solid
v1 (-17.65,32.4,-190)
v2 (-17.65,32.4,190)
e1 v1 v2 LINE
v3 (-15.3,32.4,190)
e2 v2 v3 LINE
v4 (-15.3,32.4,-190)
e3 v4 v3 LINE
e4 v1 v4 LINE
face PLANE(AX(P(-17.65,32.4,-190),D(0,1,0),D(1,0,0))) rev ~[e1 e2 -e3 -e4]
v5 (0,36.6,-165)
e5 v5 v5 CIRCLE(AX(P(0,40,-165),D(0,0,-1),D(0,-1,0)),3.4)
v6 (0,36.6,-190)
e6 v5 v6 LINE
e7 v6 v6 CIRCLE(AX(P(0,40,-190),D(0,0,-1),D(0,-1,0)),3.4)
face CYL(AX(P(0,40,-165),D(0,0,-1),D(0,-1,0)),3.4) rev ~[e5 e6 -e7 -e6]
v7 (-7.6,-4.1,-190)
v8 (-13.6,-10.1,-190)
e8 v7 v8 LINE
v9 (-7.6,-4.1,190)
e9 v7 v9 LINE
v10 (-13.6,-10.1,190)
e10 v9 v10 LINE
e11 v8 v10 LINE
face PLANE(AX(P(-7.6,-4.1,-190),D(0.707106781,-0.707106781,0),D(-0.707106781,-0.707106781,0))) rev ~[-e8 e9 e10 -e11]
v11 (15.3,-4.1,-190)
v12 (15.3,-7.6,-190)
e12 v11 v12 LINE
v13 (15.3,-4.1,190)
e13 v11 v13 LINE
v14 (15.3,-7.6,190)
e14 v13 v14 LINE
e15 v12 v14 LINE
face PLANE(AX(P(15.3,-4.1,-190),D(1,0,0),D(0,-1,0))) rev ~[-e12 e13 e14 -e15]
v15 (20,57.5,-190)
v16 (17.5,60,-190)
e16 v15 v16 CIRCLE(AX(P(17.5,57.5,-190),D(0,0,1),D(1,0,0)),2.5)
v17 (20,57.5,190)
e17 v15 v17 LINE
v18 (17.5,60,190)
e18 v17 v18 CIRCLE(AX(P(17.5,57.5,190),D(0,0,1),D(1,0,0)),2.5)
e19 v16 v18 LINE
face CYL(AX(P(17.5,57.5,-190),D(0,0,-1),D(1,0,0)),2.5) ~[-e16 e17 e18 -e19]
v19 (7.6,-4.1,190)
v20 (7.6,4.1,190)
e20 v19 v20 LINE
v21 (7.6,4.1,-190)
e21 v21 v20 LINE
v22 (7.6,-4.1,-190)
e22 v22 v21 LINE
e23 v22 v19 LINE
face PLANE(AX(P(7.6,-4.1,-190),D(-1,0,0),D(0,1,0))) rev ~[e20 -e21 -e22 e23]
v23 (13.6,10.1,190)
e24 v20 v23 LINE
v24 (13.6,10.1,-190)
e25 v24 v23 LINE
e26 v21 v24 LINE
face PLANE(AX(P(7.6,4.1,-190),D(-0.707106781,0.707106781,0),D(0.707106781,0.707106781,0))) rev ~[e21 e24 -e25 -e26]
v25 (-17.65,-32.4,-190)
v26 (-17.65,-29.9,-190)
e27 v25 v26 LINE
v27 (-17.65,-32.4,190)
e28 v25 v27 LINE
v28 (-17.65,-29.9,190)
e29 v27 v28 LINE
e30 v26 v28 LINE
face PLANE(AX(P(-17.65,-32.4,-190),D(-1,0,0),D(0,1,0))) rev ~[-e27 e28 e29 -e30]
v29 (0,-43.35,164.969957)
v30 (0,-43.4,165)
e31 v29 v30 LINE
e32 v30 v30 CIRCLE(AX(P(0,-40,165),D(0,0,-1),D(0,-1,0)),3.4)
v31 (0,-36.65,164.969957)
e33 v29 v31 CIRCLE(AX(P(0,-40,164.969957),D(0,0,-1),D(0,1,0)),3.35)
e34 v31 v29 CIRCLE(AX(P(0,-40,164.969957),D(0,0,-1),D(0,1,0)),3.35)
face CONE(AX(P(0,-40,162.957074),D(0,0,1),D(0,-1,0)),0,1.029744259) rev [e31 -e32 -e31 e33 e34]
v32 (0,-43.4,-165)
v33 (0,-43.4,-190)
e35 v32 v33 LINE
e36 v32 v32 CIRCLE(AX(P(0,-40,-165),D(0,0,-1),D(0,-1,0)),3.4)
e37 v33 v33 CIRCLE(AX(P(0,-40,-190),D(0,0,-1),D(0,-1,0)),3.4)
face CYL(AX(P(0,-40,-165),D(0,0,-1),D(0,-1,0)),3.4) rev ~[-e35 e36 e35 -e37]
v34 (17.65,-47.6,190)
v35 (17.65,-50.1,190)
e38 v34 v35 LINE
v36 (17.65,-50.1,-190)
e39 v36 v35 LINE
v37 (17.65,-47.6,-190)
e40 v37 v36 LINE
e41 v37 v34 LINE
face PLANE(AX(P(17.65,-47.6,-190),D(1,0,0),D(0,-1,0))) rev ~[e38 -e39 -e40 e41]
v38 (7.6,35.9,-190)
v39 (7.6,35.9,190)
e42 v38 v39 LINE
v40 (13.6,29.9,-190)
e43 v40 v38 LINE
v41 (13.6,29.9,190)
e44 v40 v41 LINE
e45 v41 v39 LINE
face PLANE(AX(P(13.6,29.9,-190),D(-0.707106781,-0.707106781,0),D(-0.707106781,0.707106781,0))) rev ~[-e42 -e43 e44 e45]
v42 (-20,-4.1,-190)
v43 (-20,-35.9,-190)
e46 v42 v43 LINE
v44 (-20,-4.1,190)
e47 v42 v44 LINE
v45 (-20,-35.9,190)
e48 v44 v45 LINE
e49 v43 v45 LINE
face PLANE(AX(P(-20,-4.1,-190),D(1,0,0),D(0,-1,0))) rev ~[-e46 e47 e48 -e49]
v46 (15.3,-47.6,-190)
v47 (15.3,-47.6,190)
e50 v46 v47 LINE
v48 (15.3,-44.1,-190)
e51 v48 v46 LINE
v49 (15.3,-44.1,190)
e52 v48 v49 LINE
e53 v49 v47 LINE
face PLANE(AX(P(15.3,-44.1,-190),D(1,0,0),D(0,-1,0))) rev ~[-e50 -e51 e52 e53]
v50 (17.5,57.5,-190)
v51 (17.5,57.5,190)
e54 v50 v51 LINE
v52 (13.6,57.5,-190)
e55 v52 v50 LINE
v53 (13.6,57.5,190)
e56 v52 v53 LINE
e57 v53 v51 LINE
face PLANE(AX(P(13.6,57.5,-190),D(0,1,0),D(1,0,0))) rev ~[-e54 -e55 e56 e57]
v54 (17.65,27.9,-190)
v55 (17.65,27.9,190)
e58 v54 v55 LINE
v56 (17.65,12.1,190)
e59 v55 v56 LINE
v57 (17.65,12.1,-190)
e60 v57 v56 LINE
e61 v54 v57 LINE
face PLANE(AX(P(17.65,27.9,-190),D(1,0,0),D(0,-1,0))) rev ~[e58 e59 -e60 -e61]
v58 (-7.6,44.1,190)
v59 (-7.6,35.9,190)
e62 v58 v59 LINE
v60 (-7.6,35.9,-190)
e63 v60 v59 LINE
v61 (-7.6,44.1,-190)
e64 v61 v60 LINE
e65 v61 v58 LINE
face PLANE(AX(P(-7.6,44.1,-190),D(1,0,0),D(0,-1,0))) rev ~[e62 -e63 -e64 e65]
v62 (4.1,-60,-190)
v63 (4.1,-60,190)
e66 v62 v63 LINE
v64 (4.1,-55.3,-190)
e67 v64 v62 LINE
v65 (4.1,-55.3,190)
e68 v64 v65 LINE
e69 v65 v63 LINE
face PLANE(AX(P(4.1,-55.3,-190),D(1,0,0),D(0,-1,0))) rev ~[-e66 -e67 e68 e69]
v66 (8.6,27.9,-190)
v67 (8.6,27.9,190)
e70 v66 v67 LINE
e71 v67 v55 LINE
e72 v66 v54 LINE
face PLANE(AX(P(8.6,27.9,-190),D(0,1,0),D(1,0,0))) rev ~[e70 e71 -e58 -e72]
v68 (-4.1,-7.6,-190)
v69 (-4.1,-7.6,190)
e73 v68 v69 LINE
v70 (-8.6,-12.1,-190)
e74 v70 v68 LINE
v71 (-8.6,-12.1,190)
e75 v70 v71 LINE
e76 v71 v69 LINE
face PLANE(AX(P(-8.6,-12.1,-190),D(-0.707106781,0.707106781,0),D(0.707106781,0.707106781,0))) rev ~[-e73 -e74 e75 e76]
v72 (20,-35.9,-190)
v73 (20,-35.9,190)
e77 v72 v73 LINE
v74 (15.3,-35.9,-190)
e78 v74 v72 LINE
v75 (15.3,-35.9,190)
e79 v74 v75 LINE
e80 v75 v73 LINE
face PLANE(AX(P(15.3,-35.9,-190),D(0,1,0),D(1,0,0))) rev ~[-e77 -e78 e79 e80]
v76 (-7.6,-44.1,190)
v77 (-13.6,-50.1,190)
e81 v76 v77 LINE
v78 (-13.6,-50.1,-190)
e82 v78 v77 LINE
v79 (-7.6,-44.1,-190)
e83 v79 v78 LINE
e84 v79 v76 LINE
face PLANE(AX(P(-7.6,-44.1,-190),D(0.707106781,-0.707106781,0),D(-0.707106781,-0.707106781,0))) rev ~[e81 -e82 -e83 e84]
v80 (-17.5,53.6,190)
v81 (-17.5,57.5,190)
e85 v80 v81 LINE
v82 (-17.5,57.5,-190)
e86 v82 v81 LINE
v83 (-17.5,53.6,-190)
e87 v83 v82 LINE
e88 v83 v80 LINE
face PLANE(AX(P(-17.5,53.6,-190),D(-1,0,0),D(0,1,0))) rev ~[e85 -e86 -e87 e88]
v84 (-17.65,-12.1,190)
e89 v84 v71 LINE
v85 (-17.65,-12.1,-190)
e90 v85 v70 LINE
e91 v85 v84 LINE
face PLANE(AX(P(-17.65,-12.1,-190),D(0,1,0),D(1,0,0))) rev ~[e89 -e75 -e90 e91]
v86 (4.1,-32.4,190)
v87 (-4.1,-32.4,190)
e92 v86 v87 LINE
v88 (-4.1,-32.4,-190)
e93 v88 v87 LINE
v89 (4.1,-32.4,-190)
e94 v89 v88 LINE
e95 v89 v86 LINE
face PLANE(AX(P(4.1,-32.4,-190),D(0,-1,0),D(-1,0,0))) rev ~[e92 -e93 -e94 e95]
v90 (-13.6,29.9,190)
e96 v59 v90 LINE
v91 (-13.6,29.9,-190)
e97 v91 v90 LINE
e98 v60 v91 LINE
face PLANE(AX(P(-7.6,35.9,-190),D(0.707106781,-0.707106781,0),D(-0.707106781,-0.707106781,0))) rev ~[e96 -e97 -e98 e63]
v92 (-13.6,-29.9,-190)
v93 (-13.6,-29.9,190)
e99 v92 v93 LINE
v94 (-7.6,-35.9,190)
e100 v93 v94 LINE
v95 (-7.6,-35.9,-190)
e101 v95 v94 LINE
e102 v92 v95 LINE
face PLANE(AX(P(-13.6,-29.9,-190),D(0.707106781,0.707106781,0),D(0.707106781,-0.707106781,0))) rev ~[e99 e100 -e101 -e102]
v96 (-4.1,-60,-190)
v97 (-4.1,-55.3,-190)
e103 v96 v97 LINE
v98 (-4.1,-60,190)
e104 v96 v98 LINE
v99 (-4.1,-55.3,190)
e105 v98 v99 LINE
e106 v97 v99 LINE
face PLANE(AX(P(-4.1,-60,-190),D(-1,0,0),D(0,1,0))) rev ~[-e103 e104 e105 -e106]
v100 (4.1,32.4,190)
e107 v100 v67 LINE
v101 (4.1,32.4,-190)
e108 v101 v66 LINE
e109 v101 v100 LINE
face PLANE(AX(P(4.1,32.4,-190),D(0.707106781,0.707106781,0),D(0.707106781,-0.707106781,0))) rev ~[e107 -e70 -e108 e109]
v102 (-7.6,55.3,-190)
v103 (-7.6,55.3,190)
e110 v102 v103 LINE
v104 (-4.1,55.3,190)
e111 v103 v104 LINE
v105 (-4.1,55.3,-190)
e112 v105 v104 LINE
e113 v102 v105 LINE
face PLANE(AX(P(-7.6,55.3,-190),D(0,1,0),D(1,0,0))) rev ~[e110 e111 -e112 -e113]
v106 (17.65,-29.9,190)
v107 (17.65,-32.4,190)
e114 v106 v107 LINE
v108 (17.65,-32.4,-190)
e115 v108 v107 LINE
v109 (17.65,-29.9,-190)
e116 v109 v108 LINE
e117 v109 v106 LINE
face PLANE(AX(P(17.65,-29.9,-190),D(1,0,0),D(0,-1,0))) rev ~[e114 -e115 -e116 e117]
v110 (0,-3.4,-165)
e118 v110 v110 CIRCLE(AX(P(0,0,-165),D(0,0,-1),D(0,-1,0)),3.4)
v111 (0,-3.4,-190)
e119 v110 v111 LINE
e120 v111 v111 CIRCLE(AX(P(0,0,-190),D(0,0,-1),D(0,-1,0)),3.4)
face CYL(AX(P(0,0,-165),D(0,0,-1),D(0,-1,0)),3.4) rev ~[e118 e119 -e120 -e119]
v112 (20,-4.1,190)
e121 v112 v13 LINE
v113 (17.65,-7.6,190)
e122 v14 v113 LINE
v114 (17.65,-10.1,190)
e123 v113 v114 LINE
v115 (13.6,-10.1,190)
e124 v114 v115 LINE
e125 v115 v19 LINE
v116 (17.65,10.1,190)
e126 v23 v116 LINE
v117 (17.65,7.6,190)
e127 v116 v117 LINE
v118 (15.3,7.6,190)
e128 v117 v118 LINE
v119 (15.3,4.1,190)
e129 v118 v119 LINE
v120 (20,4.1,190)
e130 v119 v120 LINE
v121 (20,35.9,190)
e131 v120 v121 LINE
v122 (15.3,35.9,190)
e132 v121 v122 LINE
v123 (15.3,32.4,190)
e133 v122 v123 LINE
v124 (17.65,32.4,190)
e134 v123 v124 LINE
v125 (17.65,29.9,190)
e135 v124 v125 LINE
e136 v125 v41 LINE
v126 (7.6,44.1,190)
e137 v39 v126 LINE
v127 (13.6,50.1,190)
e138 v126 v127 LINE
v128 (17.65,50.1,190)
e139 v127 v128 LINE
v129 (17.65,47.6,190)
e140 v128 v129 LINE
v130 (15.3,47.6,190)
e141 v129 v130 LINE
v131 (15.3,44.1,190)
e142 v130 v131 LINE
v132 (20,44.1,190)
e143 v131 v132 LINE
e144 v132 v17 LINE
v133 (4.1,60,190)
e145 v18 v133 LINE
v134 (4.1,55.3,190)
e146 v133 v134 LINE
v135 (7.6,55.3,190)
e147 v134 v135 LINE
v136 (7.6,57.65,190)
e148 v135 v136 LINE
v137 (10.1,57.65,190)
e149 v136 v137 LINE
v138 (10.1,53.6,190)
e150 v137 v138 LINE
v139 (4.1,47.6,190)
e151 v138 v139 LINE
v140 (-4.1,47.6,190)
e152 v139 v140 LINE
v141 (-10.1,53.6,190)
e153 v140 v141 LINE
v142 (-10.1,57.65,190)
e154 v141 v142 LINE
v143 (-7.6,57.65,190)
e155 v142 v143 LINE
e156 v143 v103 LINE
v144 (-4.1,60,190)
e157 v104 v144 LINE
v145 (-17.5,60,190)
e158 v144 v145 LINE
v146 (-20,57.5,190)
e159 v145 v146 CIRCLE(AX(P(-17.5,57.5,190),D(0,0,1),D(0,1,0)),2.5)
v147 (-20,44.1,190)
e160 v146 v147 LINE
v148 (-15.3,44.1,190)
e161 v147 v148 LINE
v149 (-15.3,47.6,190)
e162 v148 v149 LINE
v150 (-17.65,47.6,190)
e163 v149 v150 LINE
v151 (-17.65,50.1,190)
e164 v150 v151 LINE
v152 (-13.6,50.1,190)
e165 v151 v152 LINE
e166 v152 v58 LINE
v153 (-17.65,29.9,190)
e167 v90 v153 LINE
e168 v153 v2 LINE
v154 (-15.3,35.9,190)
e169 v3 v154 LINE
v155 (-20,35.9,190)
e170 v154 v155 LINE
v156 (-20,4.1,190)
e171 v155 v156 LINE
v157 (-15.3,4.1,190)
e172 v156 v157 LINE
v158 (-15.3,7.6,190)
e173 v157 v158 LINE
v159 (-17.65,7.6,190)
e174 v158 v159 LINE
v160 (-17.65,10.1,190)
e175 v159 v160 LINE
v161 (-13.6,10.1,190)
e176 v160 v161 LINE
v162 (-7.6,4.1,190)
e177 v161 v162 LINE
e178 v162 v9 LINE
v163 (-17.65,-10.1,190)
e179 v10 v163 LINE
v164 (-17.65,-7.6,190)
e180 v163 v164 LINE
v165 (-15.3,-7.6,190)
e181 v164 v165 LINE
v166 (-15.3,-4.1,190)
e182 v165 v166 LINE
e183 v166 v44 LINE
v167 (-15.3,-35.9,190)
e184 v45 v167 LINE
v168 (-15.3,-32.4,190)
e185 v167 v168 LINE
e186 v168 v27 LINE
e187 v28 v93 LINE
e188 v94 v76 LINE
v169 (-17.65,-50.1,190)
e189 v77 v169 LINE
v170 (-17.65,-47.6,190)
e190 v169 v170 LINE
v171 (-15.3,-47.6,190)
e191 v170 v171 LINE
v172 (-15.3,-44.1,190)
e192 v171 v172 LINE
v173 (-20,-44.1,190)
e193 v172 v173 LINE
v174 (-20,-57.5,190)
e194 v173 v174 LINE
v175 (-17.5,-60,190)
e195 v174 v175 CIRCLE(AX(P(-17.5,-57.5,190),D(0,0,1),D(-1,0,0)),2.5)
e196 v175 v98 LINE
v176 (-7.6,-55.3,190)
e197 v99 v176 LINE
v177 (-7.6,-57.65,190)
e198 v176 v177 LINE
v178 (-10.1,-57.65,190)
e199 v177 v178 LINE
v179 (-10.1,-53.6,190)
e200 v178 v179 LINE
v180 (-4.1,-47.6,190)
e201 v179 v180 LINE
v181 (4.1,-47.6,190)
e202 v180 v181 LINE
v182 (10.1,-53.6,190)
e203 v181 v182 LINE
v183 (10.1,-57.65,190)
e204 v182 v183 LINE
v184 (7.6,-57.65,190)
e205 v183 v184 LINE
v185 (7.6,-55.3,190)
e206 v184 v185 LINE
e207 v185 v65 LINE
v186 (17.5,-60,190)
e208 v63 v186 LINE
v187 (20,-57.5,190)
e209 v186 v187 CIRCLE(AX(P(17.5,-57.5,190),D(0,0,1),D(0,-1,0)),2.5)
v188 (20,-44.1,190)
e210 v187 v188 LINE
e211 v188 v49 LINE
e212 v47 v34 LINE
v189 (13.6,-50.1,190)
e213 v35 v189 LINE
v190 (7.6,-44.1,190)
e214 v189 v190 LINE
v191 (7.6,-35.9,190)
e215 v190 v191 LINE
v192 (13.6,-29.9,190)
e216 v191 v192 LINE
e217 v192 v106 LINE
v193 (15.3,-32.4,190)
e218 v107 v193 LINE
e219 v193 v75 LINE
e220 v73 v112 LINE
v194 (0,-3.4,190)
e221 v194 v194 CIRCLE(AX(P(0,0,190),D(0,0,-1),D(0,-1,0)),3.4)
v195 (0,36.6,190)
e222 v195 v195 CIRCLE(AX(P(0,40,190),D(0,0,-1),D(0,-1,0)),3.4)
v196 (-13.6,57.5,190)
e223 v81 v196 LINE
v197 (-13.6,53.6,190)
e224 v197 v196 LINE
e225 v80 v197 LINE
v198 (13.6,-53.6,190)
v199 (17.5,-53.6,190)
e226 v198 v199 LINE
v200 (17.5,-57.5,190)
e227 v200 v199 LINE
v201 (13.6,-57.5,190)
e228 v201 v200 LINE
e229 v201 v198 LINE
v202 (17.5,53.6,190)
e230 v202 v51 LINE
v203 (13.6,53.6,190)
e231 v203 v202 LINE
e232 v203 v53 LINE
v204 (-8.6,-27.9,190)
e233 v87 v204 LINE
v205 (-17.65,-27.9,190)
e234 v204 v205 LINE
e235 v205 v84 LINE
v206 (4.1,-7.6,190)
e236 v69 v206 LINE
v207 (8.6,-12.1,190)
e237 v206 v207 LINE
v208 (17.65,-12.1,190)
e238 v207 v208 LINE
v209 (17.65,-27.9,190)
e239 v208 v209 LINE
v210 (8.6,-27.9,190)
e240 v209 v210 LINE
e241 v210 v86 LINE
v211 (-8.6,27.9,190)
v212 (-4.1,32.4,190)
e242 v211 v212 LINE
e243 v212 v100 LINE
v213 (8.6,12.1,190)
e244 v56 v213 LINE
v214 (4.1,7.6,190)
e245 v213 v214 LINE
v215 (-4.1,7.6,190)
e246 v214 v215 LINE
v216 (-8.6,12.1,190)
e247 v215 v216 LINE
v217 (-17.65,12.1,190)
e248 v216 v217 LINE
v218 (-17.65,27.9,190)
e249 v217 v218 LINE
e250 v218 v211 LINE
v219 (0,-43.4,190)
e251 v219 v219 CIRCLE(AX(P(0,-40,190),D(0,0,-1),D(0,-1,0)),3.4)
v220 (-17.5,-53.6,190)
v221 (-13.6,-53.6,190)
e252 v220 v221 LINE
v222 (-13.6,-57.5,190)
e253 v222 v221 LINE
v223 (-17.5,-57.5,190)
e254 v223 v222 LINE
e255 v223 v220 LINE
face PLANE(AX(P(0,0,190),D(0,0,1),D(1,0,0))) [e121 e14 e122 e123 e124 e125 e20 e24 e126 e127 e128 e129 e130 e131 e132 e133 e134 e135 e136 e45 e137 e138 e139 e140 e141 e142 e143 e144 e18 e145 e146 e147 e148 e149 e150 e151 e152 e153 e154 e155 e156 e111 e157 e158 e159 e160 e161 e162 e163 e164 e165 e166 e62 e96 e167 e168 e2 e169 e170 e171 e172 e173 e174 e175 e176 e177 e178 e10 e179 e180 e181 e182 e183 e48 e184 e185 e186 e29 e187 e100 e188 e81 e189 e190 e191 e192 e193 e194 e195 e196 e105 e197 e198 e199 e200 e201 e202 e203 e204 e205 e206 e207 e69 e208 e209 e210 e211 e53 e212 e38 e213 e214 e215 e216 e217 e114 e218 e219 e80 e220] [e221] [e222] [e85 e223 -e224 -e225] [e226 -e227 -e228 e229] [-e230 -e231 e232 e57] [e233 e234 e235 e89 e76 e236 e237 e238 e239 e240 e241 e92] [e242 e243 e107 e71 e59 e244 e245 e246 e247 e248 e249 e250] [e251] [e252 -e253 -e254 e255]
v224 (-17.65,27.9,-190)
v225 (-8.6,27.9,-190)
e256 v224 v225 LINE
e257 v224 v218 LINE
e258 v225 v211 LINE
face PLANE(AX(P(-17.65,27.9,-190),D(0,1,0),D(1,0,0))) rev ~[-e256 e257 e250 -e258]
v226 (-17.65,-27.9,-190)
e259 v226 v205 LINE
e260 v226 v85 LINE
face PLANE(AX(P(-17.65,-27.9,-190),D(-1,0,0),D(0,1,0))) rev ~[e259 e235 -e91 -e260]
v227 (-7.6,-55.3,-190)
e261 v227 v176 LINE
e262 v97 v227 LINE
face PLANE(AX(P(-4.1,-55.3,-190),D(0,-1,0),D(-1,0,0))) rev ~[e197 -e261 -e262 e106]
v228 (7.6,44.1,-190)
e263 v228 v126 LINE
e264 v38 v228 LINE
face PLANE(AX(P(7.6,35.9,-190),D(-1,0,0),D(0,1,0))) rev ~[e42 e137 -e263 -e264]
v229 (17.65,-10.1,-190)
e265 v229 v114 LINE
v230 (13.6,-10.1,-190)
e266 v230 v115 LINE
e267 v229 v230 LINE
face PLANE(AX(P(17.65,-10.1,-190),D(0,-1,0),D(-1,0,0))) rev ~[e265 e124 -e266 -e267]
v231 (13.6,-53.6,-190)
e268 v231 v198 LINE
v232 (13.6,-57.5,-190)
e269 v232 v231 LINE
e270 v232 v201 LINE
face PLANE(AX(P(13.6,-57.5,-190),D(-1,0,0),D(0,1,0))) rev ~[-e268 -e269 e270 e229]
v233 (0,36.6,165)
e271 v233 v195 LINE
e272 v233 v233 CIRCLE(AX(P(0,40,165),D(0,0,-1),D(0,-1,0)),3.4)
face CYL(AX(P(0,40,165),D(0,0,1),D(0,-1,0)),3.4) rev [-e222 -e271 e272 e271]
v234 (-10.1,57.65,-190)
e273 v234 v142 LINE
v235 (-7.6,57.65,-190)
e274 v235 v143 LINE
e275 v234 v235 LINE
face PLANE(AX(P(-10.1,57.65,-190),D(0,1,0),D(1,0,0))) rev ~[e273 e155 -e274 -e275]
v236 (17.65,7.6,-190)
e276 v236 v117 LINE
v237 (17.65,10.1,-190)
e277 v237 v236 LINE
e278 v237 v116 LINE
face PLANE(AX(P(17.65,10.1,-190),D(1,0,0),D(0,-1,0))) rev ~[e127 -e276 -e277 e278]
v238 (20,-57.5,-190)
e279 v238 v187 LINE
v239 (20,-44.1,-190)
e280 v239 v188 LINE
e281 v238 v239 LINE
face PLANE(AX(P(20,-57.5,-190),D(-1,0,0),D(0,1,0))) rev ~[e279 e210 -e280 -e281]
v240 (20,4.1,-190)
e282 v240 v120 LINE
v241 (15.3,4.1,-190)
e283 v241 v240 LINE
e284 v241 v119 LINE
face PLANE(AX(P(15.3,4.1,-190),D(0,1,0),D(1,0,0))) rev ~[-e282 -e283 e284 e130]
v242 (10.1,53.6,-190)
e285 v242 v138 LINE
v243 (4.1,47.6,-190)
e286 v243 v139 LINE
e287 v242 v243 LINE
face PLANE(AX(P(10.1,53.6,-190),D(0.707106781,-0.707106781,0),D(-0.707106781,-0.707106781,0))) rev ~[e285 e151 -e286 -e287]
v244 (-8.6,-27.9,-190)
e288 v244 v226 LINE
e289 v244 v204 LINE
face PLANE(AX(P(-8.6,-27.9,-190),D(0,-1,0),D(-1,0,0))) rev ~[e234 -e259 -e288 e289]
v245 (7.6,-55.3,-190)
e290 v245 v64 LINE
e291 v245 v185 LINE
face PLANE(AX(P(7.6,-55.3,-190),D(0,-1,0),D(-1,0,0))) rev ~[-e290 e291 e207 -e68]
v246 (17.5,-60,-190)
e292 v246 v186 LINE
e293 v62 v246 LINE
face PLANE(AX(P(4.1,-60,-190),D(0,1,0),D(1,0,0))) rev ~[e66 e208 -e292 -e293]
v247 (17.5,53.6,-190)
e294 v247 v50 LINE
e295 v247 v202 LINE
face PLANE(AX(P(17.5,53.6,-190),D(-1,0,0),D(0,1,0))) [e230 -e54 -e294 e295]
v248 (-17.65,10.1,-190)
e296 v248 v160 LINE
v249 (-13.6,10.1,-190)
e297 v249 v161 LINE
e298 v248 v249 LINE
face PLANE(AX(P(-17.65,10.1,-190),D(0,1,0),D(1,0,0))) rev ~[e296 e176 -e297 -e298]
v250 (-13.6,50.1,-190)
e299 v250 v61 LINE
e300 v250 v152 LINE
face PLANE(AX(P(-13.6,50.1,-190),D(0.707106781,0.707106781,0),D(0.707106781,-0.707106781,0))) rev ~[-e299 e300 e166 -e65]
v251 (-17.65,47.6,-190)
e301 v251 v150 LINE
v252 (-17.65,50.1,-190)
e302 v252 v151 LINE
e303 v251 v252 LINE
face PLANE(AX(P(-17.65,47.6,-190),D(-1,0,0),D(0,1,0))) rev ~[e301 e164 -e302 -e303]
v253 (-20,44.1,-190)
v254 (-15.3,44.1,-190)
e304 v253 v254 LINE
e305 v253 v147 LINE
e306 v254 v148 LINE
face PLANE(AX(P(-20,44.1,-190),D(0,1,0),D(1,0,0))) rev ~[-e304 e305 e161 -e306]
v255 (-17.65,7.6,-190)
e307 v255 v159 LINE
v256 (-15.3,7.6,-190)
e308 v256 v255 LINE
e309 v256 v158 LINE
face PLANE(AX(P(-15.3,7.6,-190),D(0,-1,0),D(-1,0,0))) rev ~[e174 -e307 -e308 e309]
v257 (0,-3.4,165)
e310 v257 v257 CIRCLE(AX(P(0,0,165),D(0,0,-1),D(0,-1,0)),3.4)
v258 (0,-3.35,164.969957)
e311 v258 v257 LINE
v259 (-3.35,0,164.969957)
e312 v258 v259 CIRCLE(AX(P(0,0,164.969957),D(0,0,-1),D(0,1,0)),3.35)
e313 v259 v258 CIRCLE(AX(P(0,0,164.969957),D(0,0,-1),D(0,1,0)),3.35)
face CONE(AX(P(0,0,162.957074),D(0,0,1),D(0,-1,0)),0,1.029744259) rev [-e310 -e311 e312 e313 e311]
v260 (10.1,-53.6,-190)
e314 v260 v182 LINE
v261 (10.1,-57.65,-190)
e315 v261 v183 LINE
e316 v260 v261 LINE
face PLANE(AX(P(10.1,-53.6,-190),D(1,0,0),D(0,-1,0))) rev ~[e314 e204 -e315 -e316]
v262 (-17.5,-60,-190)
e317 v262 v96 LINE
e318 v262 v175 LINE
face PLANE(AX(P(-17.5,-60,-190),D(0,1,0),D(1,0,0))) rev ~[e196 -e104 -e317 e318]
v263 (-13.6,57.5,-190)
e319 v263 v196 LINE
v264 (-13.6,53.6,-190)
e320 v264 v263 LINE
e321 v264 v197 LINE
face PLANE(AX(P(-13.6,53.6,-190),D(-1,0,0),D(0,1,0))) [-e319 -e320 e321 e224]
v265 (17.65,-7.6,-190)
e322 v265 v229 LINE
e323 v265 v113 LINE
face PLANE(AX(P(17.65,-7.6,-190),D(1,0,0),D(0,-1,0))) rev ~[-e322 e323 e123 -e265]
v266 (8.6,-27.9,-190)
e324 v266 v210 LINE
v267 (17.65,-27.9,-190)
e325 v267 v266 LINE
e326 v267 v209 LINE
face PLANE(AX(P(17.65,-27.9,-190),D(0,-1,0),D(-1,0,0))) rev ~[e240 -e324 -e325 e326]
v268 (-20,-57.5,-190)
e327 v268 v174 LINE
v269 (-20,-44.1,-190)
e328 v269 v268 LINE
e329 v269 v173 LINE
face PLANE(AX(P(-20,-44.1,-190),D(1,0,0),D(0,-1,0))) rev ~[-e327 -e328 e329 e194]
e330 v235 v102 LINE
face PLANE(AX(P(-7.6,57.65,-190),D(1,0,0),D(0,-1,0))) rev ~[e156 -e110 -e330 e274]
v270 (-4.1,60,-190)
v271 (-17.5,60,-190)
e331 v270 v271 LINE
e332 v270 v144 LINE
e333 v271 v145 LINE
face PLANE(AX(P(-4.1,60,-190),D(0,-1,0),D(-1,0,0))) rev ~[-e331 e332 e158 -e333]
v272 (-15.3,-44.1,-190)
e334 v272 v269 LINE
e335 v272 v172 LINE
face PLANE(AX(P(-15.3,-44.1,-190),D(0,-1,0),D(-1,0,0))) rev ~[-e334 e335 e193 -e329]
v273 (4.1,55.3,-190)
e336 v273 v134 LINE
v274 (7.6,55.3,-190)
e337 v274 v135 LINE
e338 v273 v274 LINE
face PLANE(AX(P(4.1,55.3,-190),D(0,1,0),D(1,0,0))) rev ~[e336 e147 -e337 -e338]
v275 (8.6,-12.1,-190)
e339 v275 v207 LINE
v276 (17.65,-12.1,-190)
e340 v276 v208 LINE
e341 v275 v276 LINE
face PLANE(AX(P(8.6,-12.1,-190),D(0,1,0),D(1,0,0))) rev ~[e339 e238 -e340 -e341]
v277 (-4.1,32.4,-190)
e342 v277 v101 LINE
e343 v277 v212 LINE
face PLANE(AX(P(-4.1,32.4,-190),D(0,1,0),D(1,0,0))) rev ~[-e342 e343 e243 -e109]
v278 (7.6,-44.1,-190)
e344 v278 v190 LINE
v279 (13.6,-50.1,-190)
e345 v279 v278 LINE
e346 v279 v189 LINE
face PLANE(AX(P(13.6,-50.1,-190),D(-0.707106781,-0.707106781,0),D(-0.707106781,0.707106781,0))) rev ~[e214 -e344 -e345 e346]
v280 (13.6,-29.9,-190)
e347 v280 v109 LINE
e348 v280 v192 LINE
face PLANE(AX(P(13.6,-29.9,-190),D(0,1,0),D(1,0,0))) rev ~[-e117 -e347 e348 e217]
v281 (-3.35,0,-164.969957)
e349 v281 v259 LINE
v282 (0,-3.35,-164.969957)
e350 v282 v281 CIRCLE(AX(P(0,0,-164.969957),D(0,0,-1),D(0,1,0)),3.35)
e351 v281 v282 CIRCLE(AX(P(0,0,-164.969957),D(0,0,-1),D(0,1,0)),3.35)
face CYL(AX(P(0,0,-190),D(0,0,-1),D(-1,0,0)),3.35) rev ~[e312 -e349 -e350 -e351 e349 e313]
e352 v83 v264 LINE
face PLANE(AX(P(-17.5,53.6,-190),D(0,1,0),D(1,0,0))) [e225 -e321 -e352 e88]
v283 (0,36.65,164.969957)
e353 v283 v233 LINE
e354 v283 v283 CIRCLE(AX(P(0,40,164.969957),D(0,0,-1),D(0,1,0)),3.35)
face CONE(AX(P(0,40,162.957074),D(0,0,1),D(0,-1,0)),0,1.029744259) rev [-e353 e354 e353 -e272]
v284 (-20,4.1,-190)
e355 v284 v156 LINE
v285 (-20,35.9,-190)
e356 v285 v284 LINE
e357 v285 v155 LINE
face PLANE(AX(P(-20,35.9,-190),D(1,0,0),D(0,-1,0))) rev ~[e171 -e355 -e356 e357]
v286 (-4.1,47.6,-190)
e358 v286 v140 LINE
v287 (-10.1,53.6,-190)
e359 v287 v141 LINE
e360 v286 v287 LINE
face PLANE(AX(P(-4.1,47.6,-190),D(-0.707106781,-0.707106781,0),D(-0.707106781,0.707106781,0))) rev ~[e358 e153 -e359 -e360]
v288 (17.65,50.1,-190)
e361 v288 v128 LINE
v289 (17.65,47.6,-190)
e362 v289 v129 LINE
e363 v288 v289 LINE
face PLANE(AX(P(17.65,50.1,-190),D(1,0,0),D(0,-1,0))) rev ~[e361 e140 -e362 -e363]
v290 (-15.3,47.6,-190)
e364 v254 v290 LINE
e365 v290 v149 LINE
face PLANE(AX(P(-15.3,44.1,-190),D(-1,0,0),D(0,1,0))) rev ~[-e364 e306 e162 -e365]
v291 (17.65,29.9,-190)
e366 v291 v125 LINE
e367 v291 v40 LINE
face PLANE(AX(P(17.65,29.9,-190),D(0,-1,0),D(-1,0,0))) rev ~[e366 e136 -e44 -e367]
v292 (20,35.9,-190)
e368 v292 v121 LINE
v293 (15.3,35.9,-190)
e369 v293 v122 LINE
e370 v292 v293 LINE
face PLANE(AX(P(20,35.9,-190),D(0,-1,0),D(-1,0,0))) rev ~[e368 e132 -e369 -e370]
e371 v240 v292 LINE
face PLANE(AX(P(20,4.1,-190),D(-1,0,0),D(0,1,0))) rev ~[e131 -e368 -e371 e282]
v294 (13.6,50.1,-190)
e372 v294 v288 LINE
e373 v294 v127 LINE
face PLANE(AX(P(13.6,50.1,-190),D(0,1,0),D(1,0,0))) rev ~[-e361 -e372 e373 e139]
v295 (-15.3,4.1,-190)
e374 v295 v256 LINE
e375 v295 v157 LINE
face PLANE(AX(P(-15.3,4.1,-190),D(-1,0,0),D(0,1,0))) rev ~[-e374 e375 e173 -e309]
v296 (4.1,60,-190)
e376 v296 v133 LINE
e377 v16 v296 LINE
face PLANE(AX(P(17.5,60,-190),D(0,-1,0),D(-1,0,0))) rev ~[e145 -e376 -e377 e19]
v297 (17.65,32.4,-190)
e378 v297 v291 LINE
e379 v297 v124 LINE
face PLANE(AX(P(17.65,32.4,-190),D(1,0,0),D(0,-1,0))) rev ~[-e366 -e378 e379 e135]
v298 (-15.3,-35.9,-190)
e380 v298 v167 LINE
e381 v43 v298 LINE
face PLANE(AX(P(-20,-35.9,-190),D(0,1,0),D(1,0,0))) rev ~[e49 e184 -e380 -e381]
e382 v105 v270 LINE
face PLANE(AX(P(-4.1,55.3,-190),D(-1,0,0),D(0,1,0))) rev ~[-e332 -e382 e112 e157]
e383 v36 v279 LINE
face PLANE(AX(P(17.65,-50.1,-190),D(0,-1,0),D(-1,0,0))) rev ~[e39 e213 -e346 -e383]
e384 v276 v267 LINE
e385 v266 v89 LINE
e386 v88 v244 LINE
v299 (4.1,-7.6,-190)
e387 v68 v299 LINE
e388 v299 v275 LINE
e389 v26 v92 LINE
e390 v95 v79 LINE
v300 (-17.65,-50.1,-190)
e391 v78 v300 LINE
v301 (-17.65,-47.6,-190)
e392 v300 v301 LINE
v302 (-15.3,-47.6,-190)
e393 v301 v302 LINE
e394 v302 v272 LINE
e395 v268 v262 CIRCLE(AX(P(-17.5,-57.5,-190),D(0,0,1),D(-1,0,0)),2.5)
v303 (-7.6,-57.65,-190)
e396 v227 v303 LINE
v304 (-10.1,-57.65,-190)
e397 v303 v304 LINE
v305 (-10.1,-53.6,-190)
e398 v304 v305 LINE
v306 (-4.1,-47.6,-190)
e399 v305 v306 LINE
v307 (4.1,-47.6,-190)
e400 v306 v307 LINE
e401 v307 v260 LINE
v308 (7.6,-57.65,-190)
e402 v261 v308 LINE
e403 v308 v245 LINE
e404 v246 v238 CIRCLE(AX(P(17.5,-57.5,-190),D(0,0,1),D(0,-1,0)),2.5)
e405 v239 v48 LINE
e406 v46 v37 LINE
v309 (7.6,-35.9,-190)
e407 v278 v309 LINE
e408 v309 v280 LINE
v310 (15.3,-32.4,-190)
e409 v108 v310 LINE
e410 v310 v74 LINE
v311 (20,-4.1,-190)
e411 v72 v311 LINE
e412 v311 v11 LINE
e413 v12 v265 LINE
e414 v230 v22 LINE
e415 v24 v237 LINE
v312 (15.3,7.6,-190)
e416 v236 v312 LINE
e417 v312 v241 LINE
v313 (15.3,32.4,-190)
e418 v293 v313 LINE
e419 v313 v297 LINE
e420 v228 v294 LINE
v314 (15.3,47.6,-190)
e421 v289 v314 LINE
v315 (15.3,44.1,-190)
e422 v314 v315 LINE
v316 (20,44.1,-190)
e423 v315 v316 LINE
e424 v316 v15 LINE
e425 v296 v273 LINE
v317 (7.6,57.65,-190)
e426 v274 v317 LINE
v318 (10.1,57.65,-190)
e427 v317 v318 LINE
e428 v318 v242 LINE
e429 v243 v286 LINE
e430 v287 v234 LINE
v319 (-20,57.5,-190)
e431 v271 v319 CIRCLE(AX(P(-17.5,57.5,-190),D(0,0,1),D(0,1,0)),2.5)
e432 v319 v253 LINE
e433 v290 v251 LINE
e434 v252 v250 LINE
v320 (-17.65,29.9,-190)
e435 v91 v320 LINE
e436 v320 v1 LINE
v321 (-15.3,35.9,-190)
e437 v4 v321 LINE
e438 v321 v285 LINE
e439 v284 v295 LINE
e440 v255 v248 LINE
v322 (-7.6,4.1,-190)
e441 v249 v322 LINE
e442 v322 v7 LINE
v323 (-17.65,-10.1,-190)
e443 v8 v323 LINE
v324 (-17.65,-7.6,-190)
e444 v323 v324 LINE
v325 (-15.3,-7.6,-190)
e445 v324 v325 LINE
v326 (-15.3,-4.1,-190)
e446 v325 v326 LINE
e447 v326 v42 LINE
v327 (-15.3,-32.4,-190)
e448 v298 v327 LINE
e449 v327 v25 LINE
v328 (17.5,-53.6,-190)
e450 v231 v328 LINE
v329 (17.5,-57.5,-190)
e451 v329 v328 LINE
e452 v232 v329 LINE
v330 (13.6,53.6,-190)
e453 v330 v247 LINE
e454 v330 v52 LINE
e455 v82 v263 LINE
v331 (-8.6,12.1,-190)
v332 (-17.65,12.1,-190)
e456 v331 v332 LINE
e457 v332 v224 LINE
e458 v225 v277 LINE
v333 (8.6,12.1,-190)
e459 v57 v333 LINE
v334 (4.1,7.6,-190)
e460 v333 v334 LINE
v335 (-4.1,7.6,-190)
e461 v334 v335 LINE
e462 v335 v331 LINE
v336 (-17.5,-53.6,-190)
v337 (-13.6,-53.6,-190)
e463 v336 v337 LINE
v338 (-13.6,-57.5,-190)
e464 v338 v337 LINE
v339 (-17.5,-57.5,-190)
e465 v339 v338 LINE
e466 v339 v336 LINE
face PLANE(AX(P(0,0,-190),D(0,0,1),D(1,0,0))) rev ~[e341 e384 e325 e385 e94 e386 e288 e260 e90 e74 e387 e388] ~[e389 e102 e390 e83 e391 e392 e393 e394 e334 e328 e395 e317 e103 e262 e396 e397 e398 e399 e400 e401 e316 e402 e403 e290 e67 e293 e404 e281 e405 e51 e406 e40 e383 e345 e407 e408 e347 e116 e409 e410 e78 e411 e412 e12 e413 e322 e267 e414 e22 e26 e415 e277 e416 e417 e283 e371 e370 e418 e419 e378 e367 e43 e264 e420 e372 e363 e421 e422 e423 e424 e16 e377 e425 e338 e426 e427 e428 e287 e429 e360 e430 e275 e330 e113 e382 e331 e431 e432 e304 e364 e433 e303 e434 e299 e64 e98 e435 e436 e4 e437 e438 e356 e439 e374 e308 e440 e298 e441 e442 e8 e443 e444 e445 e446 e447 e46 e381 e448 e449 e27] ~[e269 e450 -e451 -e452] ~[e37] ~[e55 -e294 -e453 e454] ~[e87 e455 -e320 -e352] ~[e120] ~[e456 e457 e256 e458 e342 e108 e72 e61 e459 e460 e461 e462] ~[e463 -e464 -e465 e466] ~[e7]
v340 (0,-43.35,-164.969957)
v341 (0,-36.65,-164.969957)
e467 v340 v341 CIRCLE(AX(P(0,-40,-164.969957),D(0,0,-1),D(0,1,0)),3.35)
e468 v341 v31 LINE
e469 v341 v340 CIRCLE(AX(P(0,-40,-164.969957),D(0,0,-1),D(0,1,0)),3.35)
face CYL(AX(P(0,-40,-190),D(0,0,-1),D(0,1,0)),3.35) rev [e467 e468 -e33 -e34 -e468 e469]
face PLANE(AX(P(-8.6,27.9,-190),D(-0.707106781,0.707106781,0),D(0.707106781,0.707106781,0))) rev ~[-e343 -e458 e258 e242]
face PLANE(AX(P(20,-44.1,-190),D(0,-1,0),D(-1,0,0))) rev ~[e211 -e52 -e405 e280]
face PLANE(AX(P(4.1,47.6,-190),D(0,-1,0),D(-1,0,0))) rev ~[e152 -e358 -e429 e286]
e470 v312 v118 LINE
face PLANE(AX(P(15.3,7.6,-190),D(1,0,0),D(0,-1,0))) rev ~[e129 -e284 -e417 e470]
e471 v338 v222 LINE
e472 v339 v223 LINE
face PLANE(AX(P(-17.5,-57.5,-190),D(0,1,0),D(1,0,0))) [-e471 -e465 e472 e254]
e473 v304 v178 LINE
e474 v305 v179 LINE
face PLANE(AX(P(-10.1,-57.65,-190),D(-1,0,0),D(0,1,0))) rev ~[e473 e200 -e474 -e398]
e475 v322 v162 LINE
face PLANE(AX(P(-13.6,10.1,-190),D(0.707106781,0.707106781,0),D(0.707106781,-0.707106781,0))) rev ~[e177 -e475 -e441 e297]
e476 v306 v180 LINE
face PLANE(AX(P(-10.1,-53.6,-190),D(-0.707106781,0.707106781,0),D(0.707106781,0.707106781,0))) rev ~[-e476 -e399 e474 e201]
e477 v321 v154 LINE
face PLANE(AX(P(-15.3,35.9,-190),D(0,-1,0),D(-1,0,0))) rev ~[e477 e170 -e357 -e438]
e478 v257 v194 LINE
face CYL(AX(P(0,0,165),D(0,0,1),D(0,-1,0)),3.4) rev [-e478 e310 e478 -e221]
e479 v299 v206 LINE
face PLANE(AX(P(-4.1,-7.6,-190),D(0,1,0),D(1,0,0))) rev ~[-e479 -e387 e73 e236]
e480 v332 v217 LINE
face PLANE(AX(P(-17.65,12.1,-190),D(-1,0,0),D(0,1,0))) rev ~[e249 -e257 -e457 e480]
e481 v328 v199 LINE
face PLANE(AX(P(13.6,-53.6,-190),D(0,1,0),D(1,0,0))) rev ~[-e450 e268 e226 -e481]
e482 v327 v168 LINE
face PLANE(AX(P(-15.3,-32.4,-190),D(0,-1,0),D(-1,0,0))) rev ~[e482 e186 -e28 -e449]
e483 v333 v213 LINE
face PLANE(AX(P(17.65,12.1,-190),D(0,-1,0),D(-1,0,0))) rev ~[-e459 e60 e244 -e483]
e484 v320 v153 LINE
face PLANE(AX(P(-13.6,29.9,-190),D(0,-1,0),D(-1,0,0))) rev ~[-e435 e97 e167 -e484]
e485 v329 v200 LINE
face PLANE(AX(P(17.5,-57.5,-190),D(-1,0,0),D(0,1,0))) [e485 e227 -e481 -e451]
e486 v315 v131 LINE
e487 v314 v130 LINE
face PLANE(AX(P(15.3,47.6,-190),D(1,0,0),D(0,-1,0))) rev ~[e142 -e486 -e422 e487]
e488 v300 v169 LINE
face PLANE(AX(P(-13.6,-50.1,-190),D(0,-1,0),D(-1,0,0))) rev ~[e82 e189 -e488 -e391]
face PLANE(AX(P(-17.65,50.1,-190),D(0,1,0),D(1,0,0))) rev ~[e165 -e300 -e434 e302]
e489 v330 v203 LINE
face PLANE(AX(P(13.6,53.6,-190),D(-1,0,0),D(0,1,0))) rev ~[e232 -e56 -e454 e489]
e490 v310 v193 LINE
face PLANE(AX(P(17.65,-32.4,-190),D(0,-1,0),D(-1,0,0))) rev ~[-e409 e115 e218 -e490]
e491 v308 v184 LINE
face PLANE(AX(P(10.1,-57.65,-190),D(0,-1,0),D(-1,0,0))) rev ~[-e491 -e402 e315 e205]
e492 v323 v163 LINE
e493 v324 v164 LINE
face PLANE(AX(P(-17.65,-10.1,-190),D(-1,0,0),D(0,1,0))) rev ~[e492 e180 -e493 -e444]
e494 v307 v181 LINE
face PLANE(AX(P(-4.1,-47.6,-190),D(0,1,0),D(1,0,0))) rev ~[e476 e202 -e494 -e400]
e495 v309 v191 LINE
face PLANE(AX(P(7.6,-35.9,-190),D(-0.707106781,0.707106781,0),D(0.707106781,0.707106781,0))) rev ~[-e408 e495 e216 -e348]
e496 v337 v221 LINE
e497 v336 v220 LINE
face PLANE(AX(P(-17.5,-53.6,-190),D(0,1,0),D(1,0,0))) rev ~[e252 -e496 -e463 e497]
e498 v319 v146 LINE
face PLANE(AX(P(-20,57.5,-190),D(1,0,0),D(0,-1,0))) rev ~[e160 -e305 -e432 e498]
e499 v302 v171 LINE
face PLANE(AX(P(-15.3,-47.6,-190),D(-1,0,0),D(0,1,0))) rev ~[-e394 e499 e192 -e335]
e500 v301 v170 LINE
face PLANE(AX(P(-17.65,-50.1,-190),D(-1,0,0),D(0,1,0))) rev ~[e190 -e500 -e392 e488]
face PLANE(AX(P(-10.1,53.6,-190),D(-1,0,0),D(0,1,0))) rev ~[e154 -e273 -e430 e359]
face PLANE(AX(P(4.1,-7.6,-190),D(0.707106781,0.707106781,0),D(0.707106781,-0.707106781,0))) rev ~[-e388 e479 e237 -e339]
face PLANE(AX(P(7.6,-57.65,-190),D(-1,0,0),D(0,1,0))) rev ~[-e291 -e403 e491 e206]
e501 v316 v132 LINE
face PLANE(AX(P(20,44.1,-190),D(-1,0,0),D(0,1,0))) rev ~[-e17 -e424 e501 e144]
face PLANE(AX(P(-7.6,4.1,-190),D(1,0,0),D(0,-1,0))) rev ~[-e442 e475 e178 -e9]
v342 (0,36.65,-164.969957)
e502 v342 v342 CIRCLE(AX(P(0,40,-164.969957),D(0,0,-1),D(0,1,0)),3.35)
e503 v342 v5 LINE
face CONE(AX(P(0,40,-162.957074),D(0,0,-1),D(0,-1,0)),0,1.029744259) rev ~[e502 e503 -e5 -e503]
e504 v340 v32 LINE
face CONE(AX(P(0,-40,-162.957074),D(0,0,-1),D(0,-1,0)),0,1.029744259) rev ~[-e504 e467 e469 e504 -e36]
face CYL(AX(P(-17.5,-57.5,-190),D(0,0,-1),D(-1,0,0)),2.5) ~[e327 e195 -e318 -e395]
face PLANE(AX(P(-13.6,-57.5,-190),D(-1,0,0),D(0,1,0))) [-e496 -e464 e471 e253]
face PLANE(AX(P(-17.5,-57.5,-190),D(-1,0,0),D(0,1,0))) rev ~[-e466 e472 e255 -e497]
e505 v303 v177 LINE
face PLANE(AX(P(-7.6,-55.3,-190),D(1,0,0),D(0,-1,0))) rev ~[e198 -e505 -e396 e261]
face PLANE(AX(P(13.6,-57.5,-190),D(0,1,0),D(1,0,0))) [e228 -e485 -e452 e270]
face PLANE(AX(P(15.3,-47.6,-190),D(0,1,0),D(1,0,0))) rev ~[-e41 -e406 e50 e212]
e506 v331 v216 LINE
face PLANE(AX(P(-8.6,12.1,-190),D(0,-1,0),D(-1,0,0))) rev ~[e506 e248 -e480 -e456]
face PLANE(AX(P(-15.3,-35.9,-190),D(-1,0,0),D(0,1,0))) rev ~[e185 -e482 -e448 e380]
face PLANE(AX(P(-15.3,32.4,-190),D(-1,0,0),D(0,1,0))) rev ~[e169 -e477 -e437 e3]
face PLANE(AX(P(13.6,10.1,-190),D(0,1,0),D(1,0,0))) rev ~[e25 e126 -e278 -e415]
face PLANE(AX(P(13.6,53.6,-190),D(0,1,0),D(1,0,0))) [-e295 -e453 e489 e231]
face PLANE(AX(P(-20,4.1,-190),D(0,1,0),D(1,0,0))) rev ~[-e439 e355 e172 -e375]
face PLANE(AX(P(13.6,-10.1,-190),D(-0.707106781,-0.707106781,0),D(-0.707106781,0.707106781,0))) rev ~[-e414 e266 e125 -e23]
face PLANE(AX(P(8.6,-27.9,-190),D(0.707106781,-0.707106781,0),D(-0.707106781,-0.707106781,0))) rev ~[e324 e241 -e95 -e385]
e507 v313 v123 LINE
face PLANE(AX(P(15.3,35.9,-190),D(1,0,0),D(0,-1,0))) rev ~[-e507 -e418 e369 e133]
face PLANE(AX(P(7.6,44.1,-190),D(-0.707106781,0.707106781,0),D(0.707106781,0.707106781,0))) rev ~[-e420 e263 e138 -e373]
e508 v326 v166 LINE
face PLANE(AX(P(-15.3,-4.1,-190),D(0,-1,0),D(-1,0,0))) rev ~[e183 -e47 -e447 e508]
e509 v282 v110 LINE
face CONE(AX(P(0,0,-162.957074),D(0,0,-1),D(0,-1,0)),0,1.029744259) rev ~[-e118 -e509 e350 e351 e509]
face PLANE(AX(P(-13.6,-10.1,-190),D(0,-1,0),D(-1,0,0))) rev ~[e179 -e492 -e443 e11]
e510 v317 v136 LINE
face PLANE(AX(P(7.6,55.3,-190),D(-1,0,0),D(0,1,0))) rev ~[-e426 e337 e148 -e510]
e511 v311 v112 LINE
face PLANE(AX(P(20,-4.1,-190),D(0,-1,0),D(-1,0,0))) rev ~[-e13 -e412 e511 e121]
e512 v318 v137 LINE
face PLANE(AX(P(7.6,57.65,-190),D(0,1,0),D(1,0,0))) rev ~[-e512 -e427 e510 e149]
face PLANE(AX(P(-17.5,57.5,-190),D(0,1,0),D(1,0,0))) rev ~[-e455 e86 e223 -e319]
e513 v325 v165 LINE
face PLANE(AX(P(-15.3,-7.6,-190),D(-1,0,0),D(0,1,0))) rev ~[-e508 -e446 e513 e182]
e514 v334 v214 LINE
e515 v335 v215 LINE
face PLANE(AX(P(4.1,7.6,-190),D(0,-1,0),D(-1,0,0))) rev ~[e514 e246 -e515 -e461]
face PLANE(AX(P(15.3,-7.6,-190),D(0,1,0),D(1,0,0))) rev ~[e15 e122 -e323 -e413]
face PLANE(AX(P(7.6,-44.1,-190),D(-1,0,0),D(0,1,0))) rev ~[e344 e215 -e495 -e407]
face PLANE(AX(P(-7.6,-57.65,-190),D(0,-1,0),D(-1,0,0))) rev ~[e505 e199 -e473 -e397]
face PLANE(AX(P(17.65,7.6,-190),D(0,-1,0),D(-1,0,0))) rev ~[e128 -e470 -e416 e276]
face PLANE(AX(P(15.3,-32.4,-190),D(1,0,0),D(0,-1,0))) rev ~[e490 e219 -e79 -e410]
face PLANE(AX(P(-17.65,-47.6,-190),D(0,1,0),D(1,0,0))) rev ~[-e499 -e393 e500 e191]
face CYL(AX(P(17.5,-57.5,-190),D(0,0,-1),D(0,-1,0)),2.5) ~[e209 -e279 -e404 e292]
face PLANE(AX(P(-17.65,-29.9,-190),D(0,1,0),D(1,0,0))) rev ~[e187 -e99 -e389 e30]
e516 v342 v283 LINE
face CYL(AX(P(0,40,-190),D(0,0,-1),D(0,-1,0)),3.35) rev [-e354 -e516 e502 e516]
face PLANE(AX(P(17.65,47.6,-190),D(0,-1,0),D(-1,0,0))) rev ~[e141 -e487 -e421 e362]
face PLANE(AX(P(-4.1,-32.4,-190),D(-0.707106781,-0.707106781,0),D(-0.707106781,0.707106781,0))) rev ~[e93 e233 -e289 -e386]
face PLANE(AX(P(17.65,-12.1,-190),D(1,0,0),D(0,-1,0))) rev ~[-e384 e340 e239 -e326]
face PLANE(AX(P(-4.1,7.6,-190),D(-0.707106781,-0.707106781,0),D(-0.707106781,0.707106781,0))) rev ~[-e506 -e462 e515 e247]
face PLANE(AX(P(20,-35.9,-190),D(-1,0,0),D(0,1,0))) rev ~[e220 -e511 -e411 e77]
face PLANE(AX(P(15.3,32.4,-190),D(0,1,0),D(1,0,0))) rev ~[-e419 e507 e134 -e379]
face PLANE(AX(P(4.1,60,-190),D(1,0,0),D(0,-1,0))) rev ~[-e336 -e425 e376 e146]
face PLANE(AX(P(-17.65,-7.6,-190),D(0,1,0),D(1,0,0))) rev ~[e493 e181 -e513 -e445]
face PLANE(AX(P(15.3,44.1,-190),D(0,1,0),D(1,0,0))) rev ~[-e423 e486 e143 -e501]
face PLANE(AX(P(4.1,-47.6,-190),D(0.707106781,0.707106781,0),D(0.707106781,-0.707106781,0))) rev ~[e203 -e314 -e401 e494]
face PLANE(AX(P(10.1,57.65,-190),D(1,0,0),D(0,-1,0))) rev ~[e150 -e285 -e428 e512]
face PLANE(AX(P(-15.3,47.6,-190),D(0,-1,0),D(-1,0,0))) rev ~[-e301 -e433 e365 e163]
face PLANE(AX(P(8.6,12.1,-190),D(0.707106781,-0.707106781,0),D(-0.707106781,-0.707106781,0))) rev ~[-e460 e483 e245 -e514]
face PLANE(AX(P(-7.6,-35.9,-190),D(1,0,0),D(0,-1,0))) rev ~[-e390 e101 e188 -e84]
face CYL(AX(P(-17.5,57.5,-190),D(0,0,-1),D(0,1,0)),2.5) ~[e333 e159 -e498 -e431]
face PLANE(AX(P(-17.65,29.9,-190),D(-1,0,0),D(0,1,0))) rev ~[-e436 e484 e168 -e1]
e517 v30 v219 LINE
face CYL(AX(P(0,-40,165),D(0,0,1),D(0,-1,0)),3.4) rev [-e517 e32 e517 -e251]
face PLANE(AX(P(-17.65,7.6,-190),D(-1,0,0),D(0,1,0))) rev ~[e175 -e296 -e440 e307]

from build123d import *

# Parameters (mm, degrees)
SKETCH2_W                       = 3.9
SKETCH2_H                       = 3.9
F_40_SERIES_TS40_120LM_1_DEPTH  = 380
M8X1_25_TAPPED_HOLE1_AT_2_COUNT = 2
M8X1_25_TAPPED_HOLE1_AT_2_PITCH = 40
M8X1_25_TAPPED_HOLE1_AT_3_COUNT = 2
M8X1_25_TAPPED_HOLE1_AT_3_PITCH = 80


with BuildPart() as part:
    # Sketch2 → 40 series TS40-120LM(1) (new body)
    with BuildSketch(Plane.XY.offset(-190)):
        with BuildLine():
            Line((15.3, -35.9), (20, -35.9))
            Line((20, -35.9), (20, -4.1))
            Line((20, -4.1), (15.3, -4.1))
            Line((15.3, -4.1), (15.3, -7.6))
            Line((15.3, -7.6), (17.65, -7.6))
            Line((17.65, -7.6), (17.65, -10.1))
            Line((17.65, -10.1), (13.6, -10.1))
            Line((13.6, -10.1), (7.6, -4.1))
            Line((7.6, -4.1), (7.6, 4.1))
            Line((7.6, 4.1), (13.6, 10.1))
            Line((13.6, 10.1), (17.65, 10.1))
            Line((17.65, 10.1), (17.65, 7.6))
            Line((17.65, 7.6), (15.3, 7.6))
            Line((15.3, 7.6), (15.3, 4.1))
            Line((15.3, 4.1), (20, 4.1))
            Line((20, 4.1), (20, 35.9))
            Line((20, 35.9), (15.3, 35.9))
            Line((15.3, 35.9), (15.3, 32.4))
            Line((15.3, 32.4), (17.65, 32.4))
            Line((17.65, 32.4), (17.65, 29.9))
            Line((17.65, 29.9), (13.6, 29.9))
            Line((13.6, 29.9), (7.6, 35.9))
            Line((7.6, 35.9), (7.6, 44.1))
            Line((7.6, 44.1), (13.6, 50.1))
            Line((13.6, 50.1), (17.65, 50.1))
            Line((17.65, 50.1), (17.65, 47.6))
            Line((17.65, 47.6), (15.3, 47.6))
            Line((15.3, 47.6), (15.3, 44.1))
            Line((15.3, 44.1), (20, 44.1))
            Line((20, 44.1), (20, 57.5))
            ThreePointArc((20, 57.5), (19.267766953, 59.267766953), (17.5, 60))
            Line((17.5, 60), (4.1, 60))
            Line((4.1, 60), (4.1, 55.3))
            Line((4.1, 55.3), (7.6, 55.3))
            Line((7.6, 55.3), (7.6, 57.65))
            Line((7.6, 57.65), (10.1, 57.65))
            Line((10.1, 57.65), (10.1, 53.6))
            Line((10.1, 53.6), (4.1, 47.6))
            Line((4.1, 47.6), (-4.1, 47.6))
            Line((-4.1, 47.6), (-10.1, 53.6))
            Line((-10.1, 53.6), (-10.1, 57.65))
            Line((-10.1, 57.65), (-7.6, 57.65))
            Line((-7.6, 57.65), (-7.6, 55.3))
            Line((-7.6, 55.3), (-4.1, 55.3))
            Line((-4.1, 55.3), (-4.1, 60))
            Line((-4.1, 60), (-17.5, 60))
            ThreePointArc((-17.5, 60), (-19.267766953, 59.267766953), (-20, 57.5))
            Line((-20, 57.5), (-20, 44.1))
            Line((-20, 44.1), (-15.3, 44.1))
            Line((-15.3, 44.1), (-15.3, 47.6))
            Line((-15.3, 47.6), (-17.65, 47.6))
            Line((-17.65, 47.6), (-17.65, 50.1))
            Line((-17.65, 50.1), (-13.6, 50.1))
            Line((-13.6, 50.1), (-7.6, 44.1))
            Line((-7.6, 44.1), (-7.6, 35.9))
            Line((-7.6, 35.9), (-13.6, 29.9))
            Line((-13.6, 29.9), (-17.65, 29.9))
            Line((-17.65, 29.9), (-17.65, 32.4))
            Line((-17.65, 32.4), (-15.3, 32.4))
            Line((-15.3, 32.4), (-15.3, 35.9))
            Line((-15.3, 35.9), (-20, 35.9))
            Line((-20, 35.9), (-20, 4.1))
            Line((-20, 4.1), (-15.3, 4.1))
            Line((-15.3, 4.1), (-15.3, 7.6))
            Line((-15.3, 7.6), (-17.65, 7.6))
            Line((-17.65, 7.6), (-17.65, 10.1))
            Line((-17.65, 10.1), (-13.6, 10.1))
            Line((-13.6, 10.1), (-7.6, 4.1))
            Line((-7.6, 4.1), (-7.6, -4.1))
            Line((-7.6, -4.1), (-13.6, -10.1))
            Line((-13.6, -10.1), (-17.65, -10.1))
            Line((-17.65, -10.1), (-17.65, -7.6))
            Line((-17.65, -7.6), (-15.3, -7.6))
            Line((-15.3, -7.6), (-15.3, -4.1))
            Line((-15.3, -4.1), (-20, -4.1))
            Line((-20, -4.1), (-20, -35.9))
            Line((-20, -35.9), (-15.3, -35.9))
            Line((-15.3, -35.9), (-15.3, -32.4))
            Line((-15.3, -32.4), (-17.65, -32.4))
            Line((-17.65, -32.4), (-17.65, -29.9))
            Line((-17.65, -29.9), (-13.6, -29.9))
            Line((-13.6, -29.9), (-7.6, -35.9))
            Line((-7.6, -35.9), (-7.6, -44.1))
            Line((-7.6, -44.1), (-13.6, -50.1))
            Line((-13.6, -50.1), (-17.65, -50.1))
            Line((-17.65, -50.1), (-17.65, -47.6))
            Line((-17.65, -47.6), (-15.3, -47.6))
            Line((-15.3, -47.6), (-15.3, -44.1))
            Line((-15.3, -44.1), (-20, -44.1))
            Line((-20, -44.1), (-20, -57.5))
            ThreePointArc((-20, -57.5), (-19.267766953, -59.267766953), (-17.5, -60))
            Line((-17.5, -60), (-4.1, -60))
            Line((-4.1, -60), (-4.1, -55.3))
            Line((-4.1, -55.3), (-7.6, -55.3))
            Line((-7.6, -55.3), (-7.6, -57.65))
            Line((-7.6, -57.65), (-10.1, -57.65))
            Line((-10.1, -57.65), (-10.1, -53.6))
            Line((-10.1, -53.6), (-4.1, -47.6))
            Line((-4.1, -47.6), (4.1, -47.6))
            Line((4.1, -47.6), (10.1, -53.6))
            Line((10.1, -53.6), (10.1, -57.65))
            Line((10.1, -57.65), (7.6, -57.65))
            Line((7.6, -57.65), (7.6, -55.3))
            Line((7.6, -55.3), (4.1, -55.3))
            Line((4.1, -55.3), (4.1, -60))
            Line((4.1, -60), (17.5, -60))
            ThreePointArc((17.5, -60), (19.267766953, -59.267766953), (20, -57.5))
            Line((20, -57.5), (20, -44.1))
            Line((20, -44.1), (15.3, -44.1))
            Line((15.3, -44.1), (15.3, -47.6))
            Line((15.3, -47.6), (17.65, -47.6))
            Line((17.65, -47.6), (17.65, -50.1))
            Line((17.65, -50.1), (13.6, -50.1))
            Line((13.6, -50.1), (7.6, -44.1))
            Line((7.6, -44.1), (7.6, -35.9))
            Line((7.6, -35.9), (13.6, -29.9))
            Line((13.6, -29.9), (17.65, -29.9))
            Line((17.65, -29.9), (17.65, -32.4))
            Line((17.65, -32.4), (15.3, -32.4))
            Line((15.3, -32.4), (15.3, -35.9))
        make_face()
        Polygon((-4.1, -7.6), (4.1, -7.6), (8.6, -12.1), (17.65, -12.1), (17.65, -27.9), (8.6, -27.9), (4.1, -32.4), (-4.1, -32.4), (-8.6, -27.9), (-17.65, -27.9), (-17.65, -12.1), (-8.6, -12.1), align=None, mode=Mode.SUBTRACT)
        Polygon((-4.1, 7.6), (-8.6, 12.1), (-17.65, 12.1), (-17.65, 27.9), (-8.6, 27.9), (-4.1, 32.4), (4.1, 32.4), (8.6, 27.9), (17.65, 27.9), (17.65, 12.1), (8.6, 12.1), (4.1, 7.6), align=None, mode=Mode.SUBTRACT)
        with Locations((15.55, -55.55)):
            Rectangle(SKETCH2_W, SKETCH2_H, mode=Mode.SUBTRACT)
        with Locations((-15.55, -55.55)):
            Rectangle(SKETCH2_W, SKETCH2_H, mode=Mode.SUBTRACT)
        with Locations((-15.55, 55.55)):
            Rectangle(SKETCH2_W, SKETCH2_H, mode=Mode.SUBTRACT)
        with Locations((15.55, 55.55)):
            Rectangle(SKETCH2_W, SKETCH2_H, mode=Mode.SUBTRACT)
        with BuildLine():
            ThreePointArc((0, -43.35), (3.35, -40), (0, -36.65))
            ThreePointArc((0, -36.65), (-3.35, -40), (0, -43.35))
        make_face(mode=Mode.SUBTRACT)
        with BuildLine():
            ThreePointArc((3.35, 0), (0, -3.35), (-3.35, 0))
            ThreePointArc((-3.35, 0), (0, 3.35), (3.35, 0))
        make_face(mode=Mode.SUBTRACT)
        with BuildLine():
            ThreePointArc((0, 43.35), (-3.35, 40), (0, 36.65))
            ThreePointArc((0, 36.65), (3.35, 40), (0, 43.35))
        make_face(mode=Mode.SUBTRACT)
    extrude(amount=F_40_SERIES_TS40_120LM_1_DEPTH)

    # Sketch4 → M8x1.25 Tapped Hole1 (revolve, cut)
    with BuildSketch(Plane(origin=(0, 40, 190), x_dir=(0, -1, 0), z_dir=(1, 0, 0))):
        Polygon((0, 0), (0, 27.042926105), (3.4, 25), (3.4, 0), align=None)
    m8x1_25_tapped_hole1 = revolve(axis=Axis((0, 40, 196.35), (0, 0, -1)), mode=Mode.SUBTRACT)

    # M8x1.25 Tapped Hole1 at 2: M8x1.25 Tapped Hole1 ×2
    with Locations(*[(0, -i * M8X1_25_TAPPED_HOLE1_AT_2_PITCH, 0) for i in range(1, M8X1_25_TAPPED_HOLE1_AT_2_COUNT)]):
        add(m8x1_25_tapped_hole1, mode=Mode.SUBTRACT)

    # M8x1.25 Tapped Hole1 at 3: M8x1.25 Tapped Hole1 ×2
    with Locations(*[(0, -i * M8X1_25_TAPPED_HOLE1_AT_3_PITCH, 0) for i in range(1, M8X1_25_TAPPED_HOLE1_AT_3_COUNT)]):
        add(m8x1_25_tapped_hole1, mode=Mode.SUBTRACT)

    # Mirror1: M8x1.25 Tapped Hole1 across plane
    add(m8x1_25_tapped_hole1.mirror(Plane.XY), mode=Mode.SUBTRACT)

    # Mirror1 copy 1 sketch → Mirror1 copy 1 (revolve, cut)
    with BuildSketch(Plane(origin=(0, 0, -190), x_dir=(0, -1, 0), z_dir=(1, 0, 0))):
        Polygon((0, 0), (0, -27.042926105), (3.4, -25), (3.4, 0), align=None)
    revolve(axis=Axis((0, 0, -196.35), (0, 0, -1)), mode=Mode.SUBTRACT)

    # Mirror1 copy 2 sketch → Mirror1 copy 2 (revolve, cut)
    with BuildSketch(Plane(origin=(0, -40, -190), x_dir=(0, -1, 0), z_dir=(1, 0, 0))):
        Polygon((0, 0), (0, -27.042926105), (3.4, -25), (3.4, 0), align=None)
    revolve(axis=Axis((0, -40, -196.35), (0, 0, -1)), mode=Mode.SUBTRACT)


solid = part.part
